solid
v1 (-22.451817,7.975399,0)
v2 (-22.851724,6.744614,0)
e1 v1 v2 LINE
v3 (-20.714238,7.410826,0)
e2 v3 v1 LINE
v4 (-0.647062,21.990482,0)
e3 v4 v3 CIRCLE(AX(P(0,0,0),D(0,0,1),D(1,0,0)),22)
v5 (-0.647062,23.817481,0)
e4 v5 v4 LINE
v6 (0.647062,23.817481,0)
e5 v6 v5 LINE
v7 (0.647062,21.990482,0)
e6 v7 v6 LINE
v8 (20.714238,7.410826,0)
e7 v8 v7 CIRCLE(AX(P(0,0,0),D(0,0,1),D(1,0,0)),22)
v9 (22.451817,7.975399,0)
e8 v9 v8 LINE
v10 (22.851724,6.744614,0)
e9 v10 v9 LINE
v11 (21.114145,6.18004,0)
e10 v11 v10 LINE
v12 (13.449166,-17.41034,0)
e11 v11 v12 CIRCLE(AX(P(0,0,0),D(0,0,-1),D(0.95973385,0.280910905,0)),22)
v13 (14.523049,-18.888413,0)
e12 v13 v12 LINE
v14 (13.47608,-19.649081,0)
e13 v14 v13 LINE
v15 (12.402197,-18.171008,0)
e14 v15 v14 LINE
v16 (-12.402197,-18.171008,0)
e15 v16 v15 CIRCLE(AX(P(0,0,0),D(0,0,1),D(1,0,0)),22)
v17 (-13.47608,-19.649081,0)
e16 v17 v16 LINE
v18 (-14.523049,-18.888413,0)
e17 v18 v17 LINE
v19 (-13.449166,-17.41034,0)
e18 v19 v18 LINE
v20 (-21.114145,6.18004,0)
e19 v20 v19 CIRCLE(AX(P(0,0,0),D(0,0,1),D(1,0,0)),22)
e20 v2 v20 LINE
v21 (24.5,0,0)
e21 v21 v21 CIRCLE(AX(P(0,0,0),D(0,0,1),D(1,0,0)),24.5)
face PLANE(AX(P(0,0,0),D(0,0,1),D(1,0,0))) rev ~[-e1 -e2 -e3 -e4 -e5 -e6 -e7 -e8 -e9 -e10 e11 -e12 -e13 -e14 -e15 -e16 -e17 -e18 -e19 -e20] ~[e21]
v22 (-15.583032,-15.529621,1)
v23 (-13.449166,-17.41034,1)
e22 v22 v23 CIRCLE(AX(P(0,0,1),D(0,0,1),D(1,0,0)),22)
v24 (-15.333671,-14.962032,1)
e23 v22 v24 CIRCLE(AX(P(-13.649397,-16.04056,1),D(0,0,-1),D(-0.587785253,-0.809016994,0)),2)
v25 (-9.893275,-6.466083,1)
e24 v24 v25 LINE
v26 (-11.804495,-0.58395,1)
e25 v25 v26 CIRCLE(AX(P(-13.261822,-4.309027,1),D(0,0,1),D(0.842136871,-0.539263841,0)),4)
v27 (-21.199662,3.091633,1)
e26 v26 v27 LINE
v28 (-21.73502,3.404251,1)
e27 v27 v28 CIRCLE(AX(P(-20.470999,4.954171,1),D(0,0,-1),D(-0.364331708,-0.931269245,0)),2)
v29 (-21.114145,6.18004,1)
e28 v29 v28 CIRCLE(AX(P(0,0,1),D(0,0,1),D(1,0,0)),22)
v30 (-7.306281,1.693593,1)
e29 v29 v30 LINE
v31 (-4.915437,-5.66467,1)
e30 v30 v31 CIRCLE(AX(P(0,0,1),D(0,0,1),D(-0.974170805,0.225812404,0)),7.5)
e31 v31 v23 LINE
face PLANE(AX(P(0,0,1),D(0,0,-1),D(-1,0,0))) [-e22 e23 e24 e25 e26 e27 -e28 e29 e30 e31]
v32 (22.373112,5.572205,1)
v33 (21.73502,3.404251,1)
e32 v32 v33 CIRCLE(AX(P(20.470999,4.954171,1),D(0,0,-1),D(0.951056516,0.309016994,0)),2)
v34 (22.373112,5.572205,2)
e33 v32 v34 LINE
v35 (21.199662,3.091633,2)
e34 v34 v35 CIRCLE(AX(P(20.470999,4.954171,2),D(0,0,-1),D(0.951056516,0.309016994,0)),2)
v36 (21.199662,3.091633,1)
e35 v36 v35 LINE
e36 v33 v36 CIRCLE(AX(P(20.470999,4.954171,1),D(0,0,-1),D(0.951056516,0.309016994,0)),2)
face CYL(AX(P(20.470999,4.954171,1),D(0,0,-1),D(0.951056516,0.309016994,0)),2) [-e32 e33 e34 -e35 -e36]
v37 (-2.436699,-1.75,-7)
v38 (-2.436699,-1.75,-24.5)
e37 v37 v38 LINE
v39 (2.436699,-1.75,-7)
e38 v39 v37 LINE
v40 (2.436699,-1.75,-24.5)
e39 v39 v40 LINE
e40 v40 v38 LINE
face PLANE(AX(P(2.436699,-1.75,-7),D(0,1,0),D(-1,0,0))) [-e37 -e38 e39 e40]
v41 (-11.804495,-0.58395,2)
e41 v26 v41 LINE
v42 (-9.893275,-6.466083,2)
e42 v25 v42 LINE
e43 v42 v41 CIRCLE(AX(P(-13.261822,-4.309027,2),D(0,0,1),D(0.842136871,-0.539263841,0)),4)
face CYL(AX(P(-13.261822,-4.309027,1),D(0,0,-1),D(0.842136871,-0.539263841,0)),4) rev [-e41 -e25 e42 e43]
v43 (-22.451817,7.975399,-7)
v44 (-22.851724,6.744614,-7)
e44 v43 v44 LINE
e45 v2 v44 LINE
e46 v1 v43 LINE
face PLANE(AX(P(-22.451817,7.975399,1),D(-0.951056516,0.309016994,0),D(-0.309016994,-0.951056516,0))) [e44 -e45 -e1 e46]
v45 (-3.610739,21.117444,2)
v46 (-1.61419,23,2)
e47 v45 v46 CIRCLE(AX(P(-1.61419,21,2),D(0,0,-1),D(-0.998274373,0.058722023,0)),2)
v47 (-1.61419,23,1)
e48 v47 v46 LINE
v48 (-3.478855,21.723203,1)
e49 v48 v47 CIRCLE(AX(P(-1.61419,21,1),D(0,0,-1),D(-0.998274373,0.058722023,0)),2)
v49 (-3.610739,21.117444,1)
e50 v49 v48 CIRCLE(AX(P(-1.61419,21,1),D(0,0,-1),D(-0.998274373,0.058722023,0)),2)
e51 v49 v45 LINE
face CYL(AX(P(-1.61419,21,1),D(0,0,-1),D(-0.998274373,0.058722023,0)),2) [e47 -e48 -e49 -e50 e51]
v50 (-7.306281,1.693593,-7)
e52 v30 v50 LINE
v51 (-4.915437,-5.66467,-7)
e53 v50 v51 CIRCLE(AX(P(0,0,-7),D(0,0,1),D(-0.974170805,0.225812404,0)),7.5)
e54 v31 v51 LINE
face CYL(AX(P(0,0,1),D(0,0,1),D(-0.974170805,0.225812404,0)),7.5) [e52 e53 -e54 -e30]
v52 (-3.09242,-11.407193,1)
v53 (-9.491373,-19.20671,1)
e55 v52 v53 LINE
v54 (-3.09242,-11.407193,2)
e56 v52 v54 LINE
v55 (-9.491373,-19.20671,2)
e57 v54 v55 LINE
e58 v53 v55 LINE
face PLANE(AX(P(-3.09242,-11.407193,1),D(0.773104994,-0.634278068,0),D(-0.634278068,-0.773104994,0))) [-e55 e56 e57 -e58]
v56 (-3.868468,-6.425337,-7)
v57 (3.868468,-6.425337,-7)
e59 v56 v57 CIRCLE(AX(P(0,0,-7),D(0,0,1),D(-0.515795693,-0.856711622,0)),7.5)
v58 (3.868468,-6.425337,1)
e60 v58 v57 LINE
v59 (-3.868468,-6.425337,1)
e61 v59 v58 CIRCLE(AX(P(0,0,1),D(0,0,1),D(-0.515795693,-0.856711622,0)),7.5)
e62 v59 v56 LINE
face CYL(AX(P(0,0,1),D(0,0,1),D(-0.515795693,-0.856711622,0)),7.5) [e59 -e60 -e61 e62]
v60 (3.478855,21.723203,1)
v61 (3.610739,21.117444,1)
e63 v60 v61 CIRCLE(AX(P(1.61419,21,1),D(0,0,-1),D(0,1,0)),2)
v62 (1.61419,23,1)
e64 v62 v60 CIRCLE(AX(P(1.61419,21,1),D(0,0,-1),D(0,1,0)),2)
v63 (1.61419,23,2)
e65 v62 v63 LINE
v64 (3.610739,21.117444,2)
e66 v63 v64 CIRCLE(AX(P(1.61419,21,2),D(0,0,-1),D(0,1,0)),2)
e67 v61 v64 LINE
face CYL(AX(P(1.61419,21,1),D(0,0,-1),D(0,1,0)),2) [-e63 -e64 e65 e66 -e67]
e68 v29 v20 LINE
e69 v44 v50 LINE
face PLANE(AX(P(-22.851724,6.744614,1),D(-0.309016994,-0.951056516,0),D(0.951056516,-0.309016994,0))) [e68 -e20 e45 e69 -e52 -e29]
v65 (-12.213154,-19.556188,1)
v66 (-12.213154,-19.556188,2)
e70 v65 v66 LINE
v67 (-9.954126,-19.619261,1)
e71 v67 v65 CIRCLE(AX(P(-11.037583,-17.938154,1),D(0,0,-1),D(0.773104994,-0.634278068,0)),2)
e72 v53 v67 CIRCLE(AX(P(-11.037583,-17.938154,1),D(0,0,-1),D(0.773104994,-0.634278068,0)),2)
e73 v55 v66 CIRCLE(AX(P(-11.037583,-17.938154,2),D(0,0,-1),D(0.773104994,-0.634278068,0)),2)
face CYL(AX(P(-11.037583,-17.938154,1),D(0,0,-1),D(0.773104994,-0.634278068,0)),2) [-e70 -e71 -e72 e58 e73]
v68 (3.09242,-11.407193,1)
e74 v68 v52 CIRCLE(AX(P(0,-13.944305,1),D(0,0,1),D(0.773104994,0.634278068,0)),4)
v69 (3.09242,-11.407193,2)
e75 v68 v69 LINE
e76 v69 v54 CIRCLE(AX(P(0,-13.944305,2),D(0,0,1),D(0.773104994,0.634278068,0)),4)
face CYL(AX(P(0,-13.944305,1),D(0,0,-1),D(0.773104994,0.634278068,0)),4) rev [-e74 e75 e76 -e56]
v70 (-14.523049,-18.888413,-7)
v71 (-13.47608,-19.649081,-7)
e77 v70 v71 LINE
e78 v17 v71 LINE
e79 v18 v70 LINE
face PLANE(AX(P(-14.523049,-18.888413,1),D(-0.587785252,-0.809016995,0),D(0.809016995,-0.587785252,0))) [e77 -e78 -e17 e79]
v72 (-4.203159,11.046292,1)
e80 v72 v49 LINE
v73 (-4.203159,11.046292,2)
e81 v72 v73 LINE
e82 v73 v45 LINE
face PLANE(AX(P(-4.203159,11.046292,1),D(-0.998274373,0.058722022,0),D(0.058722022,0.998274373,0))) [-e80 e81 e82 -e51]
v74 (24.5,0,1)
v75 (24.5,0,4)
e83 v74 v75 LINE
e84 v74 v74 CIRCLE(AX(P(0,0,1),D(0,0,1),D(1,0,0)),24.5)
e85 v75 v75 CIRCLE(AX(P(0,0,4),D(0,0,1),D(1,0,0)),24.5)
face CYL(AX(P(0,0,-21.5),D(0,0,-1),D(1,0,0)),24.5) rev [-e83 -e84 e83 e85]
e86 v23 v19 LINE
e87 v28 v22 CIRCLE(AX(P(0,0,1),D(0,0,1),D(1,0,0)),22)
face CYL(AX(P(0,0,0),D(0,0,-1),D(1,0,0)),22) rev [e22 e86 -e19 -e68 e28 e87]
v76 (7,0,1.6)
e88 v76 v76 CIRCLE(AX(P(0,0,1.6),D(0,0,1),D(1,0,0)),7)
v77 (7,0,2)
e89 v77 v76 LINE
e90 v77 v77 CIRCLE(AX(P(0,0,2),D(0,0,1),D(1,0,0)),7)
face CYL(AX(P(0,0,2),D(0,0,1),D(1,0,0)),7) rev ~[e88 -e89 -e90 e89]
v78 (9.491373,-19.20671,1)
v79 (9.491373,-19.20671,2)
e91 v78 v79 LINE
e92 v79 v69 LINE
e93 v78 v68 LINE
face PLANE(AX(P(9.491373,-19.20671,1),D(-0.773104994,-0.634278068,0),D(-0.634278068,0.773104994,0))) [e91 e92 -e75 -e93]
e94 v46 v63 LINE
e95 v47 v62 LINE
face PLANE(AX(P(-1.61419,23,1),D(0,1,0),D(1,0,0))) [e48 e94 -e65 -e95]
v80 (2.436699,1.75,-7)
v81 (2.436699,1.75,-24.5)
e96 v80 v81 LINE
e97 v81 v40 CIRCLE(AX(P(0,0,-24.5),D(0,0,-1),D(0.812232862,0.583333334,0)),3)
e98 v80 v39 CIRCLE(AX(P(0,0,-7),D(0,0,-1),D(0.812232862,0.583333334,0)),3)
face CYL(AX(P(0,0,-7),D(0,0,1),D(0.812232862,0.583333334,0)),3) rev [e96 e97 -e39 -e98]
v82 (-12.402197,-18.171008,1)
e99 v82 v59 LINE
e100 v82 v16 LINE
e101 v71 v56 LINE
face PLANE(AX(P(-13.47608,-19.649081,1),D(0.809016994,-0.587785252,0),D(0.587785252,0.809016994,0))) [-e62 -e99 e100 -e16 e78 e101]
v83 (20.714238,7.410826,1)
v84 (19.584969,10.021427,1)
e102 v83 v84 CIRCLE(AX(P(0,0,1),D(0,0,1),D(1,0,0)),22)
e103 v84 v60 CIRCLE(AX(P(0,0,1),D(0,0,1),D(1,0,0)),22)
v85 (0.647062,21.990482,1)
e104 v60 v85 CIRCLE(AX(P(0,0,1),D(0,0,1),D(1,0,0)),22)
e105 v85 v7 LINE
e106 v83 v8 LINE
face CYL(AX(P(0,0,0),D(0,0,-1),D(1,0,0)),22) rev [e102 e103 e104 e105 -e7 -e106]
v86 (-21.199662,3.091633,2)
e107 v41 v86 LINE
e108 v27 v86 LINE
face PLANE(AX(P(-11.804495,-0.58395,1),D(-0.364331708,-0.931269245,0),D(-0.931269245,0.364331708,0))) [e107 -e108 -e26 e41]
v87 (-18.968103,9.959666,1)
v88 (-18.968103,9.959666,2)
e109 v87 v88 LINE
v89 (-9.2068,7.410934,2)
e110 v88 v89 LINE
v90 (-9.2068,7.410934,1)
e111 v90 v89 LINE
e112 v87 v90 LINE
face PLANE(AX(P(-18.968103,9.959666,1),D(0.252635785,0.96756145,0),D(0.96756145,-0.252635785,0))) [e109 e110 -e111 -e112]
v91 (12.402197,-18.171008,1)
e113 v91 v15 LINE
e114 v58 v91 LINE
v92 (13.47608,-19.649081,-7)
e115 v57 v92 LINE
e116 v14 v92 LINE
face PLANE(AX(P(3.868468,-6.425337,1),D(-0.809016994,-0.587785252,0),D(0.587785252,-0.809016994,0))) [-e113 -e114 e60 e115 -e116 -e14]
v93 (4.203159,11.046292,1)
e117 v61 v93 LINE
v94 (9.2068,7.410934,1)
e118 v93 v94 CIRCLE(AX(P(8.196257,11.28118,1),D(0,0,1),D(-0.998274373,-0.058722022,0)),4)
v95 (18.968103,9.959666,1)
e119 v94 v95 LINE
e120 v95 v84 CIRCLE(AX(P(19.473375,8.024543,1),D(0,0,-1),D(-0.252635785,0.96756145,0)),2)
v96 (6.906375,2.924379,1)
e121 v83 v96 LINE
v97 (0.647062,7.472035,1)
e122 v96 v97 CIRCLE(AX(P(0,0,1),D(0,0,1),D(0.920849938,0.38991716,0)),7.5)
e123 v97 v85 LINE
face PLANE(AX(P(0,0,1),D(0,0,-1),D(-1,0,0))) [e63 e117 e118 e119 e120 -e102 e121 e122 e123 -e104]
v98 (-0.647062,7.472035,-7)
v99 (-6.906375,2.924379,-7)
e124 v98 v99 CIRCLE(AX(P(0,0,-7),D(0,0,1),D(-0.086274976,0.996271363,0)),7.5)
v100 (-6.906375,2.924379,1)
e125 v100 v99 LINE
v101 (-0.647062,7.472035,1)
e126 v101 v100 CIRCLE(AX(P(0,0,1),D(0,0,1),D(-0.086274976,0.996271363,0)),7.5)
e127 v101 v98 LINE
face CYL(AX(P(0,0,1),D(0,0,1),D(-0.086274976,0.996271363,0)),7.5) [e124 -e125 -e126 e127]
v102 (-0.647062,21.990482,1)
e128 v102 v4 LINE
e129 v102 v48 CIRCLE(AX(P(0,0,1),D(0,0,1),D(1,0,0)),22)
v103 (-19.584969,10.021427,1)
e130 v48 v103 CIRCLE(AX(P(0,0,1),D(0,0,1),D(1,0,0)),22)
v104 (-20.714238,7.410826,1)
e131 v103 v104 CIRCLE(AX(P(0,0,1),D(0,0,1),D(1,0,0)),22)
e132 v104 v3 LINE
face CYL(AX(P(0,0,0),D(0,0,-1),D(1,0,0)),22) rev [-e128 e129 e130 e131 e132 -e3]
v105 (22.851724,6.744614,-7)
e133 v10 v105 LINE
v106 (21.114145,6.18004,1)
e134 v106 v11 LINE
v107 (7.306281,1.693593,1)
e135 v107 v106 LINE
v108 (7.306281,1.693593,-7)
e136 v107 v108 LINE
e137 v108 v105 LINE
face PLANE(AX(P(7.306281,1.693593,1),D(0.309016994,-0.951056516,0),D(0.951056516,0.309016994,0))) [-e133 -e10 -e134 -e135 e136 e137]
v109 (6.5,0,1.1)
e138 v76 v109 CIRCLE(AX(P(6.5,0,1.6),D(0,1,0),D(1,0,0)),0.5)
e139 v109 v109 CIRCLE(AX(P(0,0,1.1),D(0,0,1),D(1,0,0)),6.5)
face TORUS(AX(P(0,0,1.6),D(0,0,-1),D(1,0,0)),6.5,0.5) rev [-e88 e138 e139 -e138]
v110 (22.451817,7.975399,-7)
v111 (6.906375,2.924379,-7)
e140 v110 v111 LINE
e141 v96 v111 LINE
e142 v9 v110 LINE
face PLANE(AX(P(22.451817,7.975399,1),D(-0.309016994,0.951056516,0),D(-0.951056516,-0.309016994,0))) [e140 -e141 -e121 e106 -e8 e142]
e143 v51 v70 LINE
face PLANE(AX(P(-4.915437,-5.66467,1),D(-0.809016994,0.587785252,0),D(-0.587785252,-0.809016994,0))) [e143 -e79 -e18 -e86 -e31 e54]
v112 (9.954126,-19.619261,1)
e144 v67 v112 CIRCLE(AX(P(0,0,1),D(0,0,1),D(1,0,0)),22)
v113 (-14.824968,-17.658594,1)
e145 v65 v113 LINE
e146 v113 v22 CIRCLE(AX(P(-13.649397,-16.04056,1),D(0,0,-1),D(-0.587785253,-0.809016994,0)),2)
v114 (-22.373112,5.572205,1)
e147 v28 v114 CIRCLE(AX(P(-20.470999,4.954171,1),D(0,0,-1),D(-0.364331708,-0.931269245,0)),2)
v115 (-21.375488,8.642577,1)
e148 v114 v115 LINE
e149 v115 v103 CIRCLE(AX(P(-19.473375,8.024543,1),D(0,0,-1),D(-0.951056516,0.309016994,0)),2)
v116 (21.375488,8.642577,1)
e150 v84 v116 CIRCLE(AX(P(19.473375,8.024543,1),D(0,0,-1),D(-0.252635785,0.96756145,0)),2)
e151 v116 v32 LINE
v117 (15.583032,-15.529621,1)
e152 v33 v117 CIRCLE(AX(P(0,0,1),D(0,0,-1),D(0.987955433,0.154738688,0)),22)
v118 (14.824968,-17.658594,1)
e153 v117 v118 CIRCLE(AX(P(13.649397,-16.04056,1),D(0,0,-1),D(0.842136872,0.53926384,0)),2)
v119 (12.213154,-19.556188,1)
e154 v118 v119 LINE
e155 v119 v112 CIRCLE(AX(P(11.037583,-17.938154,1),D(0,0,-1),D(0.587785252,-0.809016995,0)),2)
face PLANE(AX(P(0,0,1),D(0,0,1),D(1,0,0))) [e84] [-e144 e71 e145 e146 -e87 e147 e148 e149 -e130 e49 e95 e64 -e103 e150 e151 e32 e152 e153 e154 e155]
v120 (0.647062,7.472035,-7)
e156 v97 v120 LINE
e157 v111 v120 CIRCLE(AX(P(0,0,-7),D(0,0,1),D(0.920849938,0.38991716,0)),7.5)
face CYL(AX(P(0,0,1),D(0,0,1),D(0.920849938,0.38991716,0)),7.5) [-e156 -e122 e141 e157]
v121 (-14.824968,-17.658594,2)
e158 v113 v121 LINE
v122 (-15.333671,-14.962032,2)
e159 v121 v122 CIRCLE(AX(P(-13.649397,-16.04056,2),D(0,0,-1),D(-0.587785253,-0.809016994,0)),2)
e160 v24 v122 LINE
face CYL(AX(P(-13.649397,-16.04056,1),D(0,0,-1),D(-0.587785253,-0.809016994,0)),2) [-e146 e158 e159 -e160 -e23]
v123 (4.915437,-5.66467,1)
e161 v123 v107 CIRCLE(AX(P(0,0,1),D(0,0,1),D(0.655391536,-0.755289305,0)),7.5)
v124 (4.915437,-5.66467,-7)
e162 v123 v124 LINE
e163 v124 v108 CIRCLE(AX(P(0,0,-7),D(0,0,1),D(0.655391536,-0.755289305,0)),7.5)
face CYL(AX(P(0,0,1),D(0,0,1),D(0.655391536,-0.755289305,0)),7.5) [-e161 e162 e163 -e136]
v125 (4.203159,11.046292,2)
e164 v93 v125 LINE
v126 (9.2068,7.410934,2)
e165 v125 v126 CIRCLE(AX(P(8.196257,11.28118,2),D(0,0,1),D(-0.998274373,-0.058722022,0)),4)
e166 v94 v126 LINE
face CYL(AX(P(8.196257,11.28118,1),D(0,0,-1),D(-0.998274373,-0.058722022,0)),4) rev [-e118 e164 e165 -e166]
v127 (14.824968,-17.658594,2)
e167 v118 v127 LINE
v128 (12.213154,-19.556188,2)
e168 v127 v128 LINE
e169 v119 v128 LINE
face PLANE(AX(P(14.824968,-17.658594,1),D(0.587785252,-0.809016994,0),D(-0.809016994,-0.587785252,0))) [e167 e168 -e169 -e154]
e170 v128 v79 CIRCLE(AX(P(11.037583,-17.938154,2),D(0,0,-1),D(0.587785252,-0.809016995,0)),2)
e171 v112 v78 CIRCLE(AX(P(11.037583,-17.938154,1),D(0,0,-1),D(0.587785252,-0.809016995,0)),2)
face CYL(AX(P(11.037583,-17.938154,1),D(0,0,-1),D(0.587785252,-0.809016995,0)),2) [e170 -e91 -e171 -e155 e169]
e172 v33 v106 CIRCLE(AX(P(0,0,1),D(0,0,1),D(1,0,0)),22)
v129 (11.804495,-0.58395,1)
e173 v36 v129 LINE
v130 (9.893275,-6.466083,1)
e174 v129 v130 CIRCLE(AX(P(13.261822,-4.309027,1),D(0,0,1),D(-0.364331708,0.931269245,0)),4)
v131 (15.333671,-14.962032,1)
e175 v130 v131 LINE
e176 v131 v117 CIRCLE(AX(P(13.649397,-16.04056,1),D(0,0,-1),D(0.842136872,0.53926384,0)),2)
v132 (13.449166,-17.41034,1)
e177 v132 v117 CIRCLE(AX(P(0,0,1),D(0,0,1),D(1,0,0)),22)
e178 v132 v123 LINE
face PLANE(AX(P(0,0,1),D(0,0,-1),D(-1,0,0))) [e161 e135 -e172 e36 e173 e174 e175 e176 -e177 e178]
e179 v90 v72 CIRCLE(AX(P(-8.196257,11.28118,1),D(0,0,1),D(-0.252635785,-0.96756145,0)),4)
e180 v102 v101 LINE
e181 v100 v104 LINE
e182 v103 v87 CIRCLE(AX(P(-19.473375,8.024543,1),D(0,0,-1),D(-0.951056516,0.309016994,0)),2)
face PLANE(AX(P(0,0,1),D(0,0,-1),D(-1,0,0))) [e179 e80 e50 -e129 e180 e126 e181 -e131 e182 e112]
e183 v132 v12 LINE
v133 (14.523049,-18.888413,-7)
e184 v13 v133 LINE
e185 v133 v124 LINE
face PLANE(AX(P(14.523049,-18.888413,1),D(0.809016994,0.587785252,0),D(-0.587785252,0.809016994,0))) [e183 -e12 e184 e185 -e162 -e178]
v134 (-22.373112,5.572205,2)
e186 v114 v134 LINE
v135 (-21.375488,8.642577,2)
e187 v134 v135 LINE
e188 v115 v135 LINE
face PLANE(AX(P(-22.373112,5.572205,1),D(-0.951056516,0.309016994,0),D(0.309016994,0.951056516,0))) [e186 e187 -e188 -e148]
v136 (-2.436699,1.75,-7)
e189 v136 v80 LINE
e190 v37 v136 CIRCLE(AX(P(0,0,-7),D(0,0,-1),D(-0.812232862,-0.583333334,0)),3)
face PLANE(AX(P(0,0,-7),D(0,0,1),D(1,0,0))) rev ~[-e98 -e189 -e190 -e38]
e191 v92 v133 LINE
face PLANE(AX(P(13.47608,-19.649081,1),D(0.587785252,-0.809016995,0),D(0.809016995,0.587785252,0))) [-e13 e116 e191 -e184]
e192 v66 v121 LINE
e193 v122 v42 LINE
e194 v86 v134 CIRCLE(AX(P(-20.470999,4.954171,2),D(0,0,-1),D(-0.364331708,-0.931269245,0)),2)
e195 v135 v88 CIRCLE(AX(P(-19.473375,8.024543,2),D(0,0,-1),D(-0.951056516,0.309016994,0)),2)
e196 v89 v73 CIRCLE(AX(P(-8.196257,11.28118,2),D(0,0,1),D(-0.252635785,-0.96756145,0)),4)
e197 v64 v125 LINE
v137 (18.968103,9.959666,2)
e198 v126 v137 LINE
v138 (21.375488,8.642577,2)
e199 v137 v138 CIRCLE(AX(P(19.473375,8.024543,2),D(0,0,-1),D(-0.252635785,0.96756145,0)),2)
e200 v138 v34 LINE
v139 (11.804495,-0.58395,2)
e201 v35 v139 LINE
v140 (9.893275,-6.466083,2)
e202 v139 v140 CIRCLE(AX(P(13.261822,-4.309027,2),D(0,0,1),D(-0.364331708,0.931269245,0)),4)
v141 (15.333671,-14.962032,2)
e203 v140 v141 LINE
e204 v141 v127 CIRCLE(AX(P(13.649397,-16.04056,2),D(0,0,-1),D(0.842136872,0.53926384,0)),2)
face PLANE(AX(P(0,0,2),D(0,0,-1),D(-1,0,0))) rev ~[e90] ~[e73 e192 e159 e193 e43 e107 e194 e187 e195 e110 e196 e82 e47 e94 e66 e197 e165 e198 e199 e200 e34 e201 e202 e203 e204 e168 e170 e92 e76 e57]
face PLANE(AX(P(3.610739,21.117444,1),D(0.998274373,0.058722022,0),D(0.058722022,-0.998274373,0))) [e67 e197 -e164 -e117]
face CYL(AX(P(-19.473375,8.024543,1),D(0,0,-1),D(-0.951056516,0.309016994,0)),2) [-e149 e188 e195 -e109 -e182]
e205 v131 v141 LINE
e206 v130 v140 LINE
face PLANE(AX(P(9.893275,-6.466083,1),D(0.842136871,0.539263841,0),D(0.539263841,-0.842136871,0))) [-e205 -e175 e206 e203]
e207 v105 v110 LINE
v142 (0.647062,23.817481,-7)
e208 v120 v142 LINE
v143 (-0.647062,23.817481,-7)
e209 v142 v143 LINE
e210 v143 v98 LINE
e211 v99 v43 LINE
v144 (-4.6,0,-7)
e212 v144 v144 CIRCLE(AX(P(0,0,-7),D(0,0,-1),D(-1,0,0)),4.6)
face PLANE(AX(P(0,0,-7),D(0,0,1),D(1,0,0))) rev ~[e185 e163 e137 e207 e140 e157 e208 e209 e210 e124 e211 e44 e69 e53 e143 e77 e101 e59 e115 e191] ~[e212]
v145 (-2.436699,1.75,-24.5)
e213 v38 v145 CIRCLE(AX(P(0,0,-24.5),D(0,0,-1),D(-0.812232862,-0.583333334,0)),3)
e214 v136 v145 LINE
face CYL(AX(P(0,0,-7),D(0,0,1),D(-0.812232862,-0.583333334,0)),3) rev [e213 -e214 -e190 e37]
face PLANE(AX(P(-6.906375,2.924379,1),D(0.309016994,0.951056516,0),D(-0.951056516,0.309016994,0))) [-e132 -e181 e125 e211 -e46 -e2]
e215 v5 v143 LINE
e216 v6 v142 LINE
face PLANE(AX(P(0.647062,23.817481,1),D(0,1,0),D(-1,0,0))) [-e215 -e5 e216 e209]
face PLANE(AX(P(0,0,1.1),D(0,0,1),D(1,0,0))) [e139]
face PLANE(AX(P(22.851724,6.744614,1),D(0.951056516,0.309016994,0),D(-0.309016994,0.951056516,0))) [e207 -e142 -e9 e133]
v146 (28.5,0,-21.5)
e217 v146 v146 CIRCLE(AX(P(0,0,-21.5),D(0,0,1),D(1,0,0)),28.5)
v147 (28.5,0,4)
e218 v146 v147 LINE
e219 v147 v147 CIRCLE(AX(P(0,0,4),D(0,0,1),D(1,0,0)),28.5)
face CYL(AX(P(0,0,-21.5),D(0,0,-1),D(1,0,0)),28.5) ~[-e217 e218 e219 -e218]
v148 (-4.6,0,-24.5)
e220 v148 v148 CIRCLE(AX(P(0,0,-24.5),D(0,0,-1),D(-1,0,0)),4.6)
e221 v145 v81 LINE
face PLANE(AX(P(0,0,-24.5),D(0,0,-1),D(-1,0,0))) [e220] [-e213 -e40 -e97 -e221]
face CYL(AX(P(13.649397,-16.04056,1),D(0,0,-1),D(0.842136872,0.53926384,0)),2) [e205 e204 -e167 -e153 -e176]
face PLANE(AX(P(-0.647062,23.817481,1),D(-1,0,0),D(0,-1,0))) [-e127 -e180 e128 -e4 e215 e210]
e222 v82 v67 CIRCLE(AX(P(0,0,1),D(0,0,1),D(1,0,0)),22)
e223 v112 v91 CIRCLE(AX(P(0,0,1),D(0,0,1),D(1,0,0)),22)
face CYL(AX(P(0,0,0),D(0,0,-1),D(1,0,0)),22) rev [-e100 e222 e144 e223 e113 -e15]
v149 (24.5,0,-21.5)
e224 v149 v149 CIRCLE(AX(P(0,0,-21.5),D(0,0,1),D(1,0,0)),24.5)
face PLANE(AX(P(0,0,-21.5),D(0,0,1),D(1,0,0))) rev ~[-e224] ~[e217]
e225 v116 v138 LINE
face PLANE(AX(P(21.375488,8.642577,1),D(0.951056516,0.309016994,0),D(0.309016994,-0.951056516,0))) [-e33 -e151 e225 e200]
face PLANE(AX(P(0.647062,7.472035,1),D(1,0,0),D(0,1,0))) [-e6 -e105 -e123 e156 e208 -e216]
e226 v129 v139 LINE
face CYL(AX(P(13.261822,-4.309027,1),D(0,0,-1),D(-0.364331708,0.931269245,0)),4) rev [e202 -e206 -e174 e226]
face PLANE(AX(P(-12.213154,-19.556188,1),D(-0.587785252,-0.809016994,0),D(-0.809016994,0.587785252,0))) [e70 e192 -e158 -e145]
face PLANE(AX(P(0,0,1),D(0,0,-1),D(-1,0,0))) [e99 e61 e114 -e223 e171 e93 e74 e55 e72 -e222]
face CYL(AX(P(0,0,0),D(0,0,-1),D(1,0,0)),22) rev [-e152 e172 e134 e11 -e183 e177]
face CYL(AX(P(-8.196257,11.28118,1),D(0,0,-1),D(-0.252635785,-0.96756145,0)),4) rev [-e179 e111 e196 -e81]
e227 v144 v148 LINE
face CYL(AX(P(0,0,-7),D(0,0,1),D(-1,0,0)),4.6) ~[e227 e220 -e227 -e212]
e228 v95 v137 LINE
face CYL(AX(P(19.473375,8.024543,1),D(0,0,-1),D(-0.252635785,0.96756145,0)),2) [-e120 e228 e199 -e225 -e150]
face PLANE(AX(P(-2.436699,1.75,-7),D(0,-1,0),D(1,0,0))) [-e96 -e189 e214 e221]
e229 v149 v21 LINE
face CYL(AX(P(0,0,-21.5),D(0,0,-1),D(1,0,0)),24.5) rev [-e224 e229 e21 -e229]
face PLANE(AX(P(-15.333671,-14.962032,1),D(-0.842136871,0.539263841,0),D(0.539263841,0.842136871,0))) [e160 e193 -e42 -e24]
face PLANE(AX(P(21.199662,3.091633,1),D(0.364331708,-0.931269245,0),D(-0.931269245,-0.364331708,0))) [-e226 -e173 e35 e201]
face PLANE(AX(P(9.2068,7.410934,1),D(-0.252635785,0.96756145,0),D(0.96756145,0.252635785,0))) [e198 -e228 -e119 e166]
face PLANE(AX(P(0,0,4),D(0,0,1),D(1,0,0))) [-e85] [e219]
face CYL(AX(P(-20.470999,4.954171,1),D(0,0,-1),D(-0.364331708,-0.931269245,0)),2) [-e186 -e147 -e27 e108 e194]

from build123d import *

# Parameters (mm, degrees)
SKETCH1_R                = 24.5
SKETCH1_R_2              = 22
BOSS_EXTRUDE1_DEPTH      = 1
BOSS_EXTRUDE2_DEPTH      = 1
SKETCH3_R                = 7
CUT_EXTRUDE1_DEPTH       = 0.9
FILLET1_R                = 0.5
BOSS_EXTRUDE3_DEPTH      = 4
BOSS_EXTRUDE3_DEPTH_BACK = 21.5
SKETCH4_R                = 28.5
SKETCH4_R_2              = 24.5
BOSS_EXTRUDE4_DEPTH      = 8
SKETCH6_R                = 4.6
BOSS_EXTRUDE5_DEPTH      = 17.5


with BuildPart() as part:
    # Sketch1 → Boss-Extrude1 (new body)
    with BuildSketch(Plane.XY):
        Circle(SKETCH1_R)
        Circle(SKETCH1_R_2, mode=Mode.SUBTRACT)
    extrude(amount=BOSS_EXTRUDE1_DEPTH)

    # Sketch2 → Boss-Extrude2 (add)
    with BuildSketch(Plane.XY.offset(1)):
        with BuildLine():
            Line((-1.614189839, 23), (1.614189839, 23))
            ThreePointArc((1.614189839, 23), (2.986252504, 22.455143994), (3.610738586, 21.117444044))
            Line((3.610738586, 21.117444044), (4.203159318, 11.046291601))
            ThreePointArc((4.203159318, 11.046291601), (5.845115801, 8.045111712), (9.206799949, 7.410933888))
            Line((9.206799949, 7.410933888), (18.96810318, 9.959665548))
            ThreePointArc((18.96810318, 9.959665548), (20.433308247, 9.779116009), (21.375487782, 8.642576636))
            Line((21.375487782, 8.642576636), (22.373111967, 5.572205105))
            ThreePointArc((22.373111967, 5.572205105), (22.278913793, 4.098926202), (21.199662351, 3.091632627))
            Line((21.199662351, 3.091632627), (11.804495268, -0.583950228))
            ThreePointArc((11.804495268, -0.583950228), (9.457596034, -3.072959231), (9.893274614, -6.46608257))
            Line((9.893274614, -6.46608257), (15.333671053, -14.962032219))
            ThreePointArc((15.333671053, -14.962032219), (15.614731503, -16.411317921), (14.824967815, -17.658593889))
            Line((14.824967815, -17.658593889), (12.213153791, -19.556187853))
            ThreePointArc((12.213153791, -19.556187853), (10.782873453, -19.921868284), (9.491373297, -19.20671))
            Line((9.491373297, -19.20671), (3.092419978, -11.40719269))
            ThreePointArc((3.092419978, -11.40719269), (0, -9.944304962), (-3.092419978, -11.40719269))
            Line((-3.092419978, -11.40719269), (-9.491373297, -19.20671))
            ThreePointArc((-9.491373297, -19.20671), (-10.782873453, -19.921868284), (-12.213153791, -19.556187853))
            Line((-12.213153791, -19.556187853), (-14.824967815, -17.658593889))
            ThreePointArc((-14.824967815, -17.658593889), (-15.614731503, -16.411317921), (-15.333671053, -14.962032219))
            Line((-15.333671053, -14.962032219), (-9.893274614, -6.46608257))
            ThreePointArc((-9.893274614, -6.46608257), (-9.457596034, -3.072959231), (-11.804495268, -0.583950228))
            Line((-11.804495268, -0.583950228), (-21.199662351, 3.091632627))
            ThreePointArc((-21.199662351, 3.091632627), (-22.278913793, 4.098926202), (-22.373111967, 5.572205105))
            Line((-22.373111967, 5.572205105), (-21.375487782, 8.642576636))
            ThreePointArc((-21.375487782, 8.642576636), (-20.433308247, 9.779116009), (-18.96810318, 9.959665548))
            Line((-18.96810318, 9.959665548), (-9.206799949, 7.410933888))
            ThreePointArc((-9.206799949, 7.410933888), (-5.845115801, 8.045111712), (-4.203159318, 11.046291601))
            Line((-4.203159318, 11.046291601), (-3.610738586, 21.117444044))
            ThreePointArc((-3.610738586, 21.117444044), (-2.986252504, 22.455143994), (-1.614189839, 23))
        make_face()
    extrude(amount=BOSS_EXTRUDE2_DEPTH)

    # Sketch3 → Cut-Extrude1 (cut)
    with BuildSketch(Plane.XY.offset(2)):
        Circle(SKETCH3_R)
    extrude(amount=-CUT_EXTRUDE1_DEPTH, mode=Mode.SUBTRACT)

    # Fillet1
    fillet1_edges = [part.edges().sort_by_distance(p)[0] for p in [
        (-7, 0, 1.1),
    ]]
    fillet(fillet1_edges, radius=FILLET1_R)

    # Sketch4 → Boss-Extrude3 (add, two sides: drawn at the far end of the back side and taken through both)
    with BuildSketch(Plane.XY.offset(-BOSS_EXTRUDE3_DEPTH_BACK)):
        Circle(SKETCH4_R)
        Circle(SKETCH4_R_2, mode=Mode.SUBTRACT)
    extrude(amount=BOSS_EXTRUDE3_DEPTH + BOSS_EXTRUDE3_DEPTH_BACK)

    # Sketch5 → Boss-Extrude4 (add)
    with BuildSketch(Plane(origin=(0, 0, 1), x_dir=(-1, 0, 0), z_dir=(0, 0, -1))):
        with BuildLine():
            Line((22.451817346, 7.975399256), (22.851723851, 6.744613588))
            Line((22.851723851, 6.744613588), (7.30628104, 1.693593032))
            ThreePointArc((7.30628104, 1.693593032), (7.132923872, -2.317627458), (4.915436519, -5.664669789))
            Line((4.915436519, -5.664669789), (14.523048547, -18.888413283))
            Line((14.523048547, -18.888413283), (13.476079724, -19.649080658))
            Line((13.476079724, -19.649080658), (3.868467697, -6.425337165))
            ThreePointArc((3.868467697, -6.425337165), (0, -7.5), (-3.868467697, -6.425337165))
            Line((-3.868467697, -6.425337165), (-13.476079724, -19.649080658))
            Line((-13.476079724, -19.649080658), (-14.523048547, -18.888413283))
            Line((-14.523048547, -18.888413283), (-4.915436519, -5.664669789))
            ThreePointArc((-4.915436519, -5.664669789), (-7.132923872, -2.317627458), (-7.30628104, 1.693593032))
            Line((-7.30628104, 1.693593032), (-22.851723851, 6.744613588))
            Line((-22.851723851, 6.744613588), (-22.451817346, 7.975399256))
            Line((-22.451817346, 7.975399256), (-6.906374535, 2.9243787))
            ThreePointArc((-6.906374535, 2.9243787), (-4.408389392, 6.067627458), (-0.647062318, 7.472035222))
            Line((-0.647062318, 7.472035222), (-0.647062318, 23.817481096))
            Line((-0.647062318, 23.817481096), (0.647062318, 23.817481096))
            Line((0.647062318, 23.817481096), (0.647062318, 7.472035222))
            ThreePointArc((0.647062318, 7.472035222), (4.408389392, 6.067627458), (6.906374535, 2.9243787))
            Line((6.906374535, 2.9243787), (22.451817346, 7.975399256))
        make_face()
    extrude(amount=BOSS_EXTRUDE4_DEPTH)

    # Sketch6 → Boss-Extrude5 (add)
    with BuildSketch(Plane(origin=(0, 0, -7), x_dir=(-1, 0, 0), z_dir=(0, 0, -1))):
        Circle(SKETCH6_R)
        with BuildLine():
            Line((-2.436698586, -1.75), (2.436698586, -1.75))
            ThreePointArc((2.436698586, -1.75), (3, 0), (2.436698586, 1.75))
            Line((2.436698586, 1.75), (-2.436698586, 1.75))
            ThreePointArc((-2.436698586, 1.75), (-3, 0), (-2.436698586, -1.75))
        make_face(mode=Mode.SUBTRACT)
    extrude(amount=BOSS_EXTRUDE5_DEPTH)


solid = part.part
